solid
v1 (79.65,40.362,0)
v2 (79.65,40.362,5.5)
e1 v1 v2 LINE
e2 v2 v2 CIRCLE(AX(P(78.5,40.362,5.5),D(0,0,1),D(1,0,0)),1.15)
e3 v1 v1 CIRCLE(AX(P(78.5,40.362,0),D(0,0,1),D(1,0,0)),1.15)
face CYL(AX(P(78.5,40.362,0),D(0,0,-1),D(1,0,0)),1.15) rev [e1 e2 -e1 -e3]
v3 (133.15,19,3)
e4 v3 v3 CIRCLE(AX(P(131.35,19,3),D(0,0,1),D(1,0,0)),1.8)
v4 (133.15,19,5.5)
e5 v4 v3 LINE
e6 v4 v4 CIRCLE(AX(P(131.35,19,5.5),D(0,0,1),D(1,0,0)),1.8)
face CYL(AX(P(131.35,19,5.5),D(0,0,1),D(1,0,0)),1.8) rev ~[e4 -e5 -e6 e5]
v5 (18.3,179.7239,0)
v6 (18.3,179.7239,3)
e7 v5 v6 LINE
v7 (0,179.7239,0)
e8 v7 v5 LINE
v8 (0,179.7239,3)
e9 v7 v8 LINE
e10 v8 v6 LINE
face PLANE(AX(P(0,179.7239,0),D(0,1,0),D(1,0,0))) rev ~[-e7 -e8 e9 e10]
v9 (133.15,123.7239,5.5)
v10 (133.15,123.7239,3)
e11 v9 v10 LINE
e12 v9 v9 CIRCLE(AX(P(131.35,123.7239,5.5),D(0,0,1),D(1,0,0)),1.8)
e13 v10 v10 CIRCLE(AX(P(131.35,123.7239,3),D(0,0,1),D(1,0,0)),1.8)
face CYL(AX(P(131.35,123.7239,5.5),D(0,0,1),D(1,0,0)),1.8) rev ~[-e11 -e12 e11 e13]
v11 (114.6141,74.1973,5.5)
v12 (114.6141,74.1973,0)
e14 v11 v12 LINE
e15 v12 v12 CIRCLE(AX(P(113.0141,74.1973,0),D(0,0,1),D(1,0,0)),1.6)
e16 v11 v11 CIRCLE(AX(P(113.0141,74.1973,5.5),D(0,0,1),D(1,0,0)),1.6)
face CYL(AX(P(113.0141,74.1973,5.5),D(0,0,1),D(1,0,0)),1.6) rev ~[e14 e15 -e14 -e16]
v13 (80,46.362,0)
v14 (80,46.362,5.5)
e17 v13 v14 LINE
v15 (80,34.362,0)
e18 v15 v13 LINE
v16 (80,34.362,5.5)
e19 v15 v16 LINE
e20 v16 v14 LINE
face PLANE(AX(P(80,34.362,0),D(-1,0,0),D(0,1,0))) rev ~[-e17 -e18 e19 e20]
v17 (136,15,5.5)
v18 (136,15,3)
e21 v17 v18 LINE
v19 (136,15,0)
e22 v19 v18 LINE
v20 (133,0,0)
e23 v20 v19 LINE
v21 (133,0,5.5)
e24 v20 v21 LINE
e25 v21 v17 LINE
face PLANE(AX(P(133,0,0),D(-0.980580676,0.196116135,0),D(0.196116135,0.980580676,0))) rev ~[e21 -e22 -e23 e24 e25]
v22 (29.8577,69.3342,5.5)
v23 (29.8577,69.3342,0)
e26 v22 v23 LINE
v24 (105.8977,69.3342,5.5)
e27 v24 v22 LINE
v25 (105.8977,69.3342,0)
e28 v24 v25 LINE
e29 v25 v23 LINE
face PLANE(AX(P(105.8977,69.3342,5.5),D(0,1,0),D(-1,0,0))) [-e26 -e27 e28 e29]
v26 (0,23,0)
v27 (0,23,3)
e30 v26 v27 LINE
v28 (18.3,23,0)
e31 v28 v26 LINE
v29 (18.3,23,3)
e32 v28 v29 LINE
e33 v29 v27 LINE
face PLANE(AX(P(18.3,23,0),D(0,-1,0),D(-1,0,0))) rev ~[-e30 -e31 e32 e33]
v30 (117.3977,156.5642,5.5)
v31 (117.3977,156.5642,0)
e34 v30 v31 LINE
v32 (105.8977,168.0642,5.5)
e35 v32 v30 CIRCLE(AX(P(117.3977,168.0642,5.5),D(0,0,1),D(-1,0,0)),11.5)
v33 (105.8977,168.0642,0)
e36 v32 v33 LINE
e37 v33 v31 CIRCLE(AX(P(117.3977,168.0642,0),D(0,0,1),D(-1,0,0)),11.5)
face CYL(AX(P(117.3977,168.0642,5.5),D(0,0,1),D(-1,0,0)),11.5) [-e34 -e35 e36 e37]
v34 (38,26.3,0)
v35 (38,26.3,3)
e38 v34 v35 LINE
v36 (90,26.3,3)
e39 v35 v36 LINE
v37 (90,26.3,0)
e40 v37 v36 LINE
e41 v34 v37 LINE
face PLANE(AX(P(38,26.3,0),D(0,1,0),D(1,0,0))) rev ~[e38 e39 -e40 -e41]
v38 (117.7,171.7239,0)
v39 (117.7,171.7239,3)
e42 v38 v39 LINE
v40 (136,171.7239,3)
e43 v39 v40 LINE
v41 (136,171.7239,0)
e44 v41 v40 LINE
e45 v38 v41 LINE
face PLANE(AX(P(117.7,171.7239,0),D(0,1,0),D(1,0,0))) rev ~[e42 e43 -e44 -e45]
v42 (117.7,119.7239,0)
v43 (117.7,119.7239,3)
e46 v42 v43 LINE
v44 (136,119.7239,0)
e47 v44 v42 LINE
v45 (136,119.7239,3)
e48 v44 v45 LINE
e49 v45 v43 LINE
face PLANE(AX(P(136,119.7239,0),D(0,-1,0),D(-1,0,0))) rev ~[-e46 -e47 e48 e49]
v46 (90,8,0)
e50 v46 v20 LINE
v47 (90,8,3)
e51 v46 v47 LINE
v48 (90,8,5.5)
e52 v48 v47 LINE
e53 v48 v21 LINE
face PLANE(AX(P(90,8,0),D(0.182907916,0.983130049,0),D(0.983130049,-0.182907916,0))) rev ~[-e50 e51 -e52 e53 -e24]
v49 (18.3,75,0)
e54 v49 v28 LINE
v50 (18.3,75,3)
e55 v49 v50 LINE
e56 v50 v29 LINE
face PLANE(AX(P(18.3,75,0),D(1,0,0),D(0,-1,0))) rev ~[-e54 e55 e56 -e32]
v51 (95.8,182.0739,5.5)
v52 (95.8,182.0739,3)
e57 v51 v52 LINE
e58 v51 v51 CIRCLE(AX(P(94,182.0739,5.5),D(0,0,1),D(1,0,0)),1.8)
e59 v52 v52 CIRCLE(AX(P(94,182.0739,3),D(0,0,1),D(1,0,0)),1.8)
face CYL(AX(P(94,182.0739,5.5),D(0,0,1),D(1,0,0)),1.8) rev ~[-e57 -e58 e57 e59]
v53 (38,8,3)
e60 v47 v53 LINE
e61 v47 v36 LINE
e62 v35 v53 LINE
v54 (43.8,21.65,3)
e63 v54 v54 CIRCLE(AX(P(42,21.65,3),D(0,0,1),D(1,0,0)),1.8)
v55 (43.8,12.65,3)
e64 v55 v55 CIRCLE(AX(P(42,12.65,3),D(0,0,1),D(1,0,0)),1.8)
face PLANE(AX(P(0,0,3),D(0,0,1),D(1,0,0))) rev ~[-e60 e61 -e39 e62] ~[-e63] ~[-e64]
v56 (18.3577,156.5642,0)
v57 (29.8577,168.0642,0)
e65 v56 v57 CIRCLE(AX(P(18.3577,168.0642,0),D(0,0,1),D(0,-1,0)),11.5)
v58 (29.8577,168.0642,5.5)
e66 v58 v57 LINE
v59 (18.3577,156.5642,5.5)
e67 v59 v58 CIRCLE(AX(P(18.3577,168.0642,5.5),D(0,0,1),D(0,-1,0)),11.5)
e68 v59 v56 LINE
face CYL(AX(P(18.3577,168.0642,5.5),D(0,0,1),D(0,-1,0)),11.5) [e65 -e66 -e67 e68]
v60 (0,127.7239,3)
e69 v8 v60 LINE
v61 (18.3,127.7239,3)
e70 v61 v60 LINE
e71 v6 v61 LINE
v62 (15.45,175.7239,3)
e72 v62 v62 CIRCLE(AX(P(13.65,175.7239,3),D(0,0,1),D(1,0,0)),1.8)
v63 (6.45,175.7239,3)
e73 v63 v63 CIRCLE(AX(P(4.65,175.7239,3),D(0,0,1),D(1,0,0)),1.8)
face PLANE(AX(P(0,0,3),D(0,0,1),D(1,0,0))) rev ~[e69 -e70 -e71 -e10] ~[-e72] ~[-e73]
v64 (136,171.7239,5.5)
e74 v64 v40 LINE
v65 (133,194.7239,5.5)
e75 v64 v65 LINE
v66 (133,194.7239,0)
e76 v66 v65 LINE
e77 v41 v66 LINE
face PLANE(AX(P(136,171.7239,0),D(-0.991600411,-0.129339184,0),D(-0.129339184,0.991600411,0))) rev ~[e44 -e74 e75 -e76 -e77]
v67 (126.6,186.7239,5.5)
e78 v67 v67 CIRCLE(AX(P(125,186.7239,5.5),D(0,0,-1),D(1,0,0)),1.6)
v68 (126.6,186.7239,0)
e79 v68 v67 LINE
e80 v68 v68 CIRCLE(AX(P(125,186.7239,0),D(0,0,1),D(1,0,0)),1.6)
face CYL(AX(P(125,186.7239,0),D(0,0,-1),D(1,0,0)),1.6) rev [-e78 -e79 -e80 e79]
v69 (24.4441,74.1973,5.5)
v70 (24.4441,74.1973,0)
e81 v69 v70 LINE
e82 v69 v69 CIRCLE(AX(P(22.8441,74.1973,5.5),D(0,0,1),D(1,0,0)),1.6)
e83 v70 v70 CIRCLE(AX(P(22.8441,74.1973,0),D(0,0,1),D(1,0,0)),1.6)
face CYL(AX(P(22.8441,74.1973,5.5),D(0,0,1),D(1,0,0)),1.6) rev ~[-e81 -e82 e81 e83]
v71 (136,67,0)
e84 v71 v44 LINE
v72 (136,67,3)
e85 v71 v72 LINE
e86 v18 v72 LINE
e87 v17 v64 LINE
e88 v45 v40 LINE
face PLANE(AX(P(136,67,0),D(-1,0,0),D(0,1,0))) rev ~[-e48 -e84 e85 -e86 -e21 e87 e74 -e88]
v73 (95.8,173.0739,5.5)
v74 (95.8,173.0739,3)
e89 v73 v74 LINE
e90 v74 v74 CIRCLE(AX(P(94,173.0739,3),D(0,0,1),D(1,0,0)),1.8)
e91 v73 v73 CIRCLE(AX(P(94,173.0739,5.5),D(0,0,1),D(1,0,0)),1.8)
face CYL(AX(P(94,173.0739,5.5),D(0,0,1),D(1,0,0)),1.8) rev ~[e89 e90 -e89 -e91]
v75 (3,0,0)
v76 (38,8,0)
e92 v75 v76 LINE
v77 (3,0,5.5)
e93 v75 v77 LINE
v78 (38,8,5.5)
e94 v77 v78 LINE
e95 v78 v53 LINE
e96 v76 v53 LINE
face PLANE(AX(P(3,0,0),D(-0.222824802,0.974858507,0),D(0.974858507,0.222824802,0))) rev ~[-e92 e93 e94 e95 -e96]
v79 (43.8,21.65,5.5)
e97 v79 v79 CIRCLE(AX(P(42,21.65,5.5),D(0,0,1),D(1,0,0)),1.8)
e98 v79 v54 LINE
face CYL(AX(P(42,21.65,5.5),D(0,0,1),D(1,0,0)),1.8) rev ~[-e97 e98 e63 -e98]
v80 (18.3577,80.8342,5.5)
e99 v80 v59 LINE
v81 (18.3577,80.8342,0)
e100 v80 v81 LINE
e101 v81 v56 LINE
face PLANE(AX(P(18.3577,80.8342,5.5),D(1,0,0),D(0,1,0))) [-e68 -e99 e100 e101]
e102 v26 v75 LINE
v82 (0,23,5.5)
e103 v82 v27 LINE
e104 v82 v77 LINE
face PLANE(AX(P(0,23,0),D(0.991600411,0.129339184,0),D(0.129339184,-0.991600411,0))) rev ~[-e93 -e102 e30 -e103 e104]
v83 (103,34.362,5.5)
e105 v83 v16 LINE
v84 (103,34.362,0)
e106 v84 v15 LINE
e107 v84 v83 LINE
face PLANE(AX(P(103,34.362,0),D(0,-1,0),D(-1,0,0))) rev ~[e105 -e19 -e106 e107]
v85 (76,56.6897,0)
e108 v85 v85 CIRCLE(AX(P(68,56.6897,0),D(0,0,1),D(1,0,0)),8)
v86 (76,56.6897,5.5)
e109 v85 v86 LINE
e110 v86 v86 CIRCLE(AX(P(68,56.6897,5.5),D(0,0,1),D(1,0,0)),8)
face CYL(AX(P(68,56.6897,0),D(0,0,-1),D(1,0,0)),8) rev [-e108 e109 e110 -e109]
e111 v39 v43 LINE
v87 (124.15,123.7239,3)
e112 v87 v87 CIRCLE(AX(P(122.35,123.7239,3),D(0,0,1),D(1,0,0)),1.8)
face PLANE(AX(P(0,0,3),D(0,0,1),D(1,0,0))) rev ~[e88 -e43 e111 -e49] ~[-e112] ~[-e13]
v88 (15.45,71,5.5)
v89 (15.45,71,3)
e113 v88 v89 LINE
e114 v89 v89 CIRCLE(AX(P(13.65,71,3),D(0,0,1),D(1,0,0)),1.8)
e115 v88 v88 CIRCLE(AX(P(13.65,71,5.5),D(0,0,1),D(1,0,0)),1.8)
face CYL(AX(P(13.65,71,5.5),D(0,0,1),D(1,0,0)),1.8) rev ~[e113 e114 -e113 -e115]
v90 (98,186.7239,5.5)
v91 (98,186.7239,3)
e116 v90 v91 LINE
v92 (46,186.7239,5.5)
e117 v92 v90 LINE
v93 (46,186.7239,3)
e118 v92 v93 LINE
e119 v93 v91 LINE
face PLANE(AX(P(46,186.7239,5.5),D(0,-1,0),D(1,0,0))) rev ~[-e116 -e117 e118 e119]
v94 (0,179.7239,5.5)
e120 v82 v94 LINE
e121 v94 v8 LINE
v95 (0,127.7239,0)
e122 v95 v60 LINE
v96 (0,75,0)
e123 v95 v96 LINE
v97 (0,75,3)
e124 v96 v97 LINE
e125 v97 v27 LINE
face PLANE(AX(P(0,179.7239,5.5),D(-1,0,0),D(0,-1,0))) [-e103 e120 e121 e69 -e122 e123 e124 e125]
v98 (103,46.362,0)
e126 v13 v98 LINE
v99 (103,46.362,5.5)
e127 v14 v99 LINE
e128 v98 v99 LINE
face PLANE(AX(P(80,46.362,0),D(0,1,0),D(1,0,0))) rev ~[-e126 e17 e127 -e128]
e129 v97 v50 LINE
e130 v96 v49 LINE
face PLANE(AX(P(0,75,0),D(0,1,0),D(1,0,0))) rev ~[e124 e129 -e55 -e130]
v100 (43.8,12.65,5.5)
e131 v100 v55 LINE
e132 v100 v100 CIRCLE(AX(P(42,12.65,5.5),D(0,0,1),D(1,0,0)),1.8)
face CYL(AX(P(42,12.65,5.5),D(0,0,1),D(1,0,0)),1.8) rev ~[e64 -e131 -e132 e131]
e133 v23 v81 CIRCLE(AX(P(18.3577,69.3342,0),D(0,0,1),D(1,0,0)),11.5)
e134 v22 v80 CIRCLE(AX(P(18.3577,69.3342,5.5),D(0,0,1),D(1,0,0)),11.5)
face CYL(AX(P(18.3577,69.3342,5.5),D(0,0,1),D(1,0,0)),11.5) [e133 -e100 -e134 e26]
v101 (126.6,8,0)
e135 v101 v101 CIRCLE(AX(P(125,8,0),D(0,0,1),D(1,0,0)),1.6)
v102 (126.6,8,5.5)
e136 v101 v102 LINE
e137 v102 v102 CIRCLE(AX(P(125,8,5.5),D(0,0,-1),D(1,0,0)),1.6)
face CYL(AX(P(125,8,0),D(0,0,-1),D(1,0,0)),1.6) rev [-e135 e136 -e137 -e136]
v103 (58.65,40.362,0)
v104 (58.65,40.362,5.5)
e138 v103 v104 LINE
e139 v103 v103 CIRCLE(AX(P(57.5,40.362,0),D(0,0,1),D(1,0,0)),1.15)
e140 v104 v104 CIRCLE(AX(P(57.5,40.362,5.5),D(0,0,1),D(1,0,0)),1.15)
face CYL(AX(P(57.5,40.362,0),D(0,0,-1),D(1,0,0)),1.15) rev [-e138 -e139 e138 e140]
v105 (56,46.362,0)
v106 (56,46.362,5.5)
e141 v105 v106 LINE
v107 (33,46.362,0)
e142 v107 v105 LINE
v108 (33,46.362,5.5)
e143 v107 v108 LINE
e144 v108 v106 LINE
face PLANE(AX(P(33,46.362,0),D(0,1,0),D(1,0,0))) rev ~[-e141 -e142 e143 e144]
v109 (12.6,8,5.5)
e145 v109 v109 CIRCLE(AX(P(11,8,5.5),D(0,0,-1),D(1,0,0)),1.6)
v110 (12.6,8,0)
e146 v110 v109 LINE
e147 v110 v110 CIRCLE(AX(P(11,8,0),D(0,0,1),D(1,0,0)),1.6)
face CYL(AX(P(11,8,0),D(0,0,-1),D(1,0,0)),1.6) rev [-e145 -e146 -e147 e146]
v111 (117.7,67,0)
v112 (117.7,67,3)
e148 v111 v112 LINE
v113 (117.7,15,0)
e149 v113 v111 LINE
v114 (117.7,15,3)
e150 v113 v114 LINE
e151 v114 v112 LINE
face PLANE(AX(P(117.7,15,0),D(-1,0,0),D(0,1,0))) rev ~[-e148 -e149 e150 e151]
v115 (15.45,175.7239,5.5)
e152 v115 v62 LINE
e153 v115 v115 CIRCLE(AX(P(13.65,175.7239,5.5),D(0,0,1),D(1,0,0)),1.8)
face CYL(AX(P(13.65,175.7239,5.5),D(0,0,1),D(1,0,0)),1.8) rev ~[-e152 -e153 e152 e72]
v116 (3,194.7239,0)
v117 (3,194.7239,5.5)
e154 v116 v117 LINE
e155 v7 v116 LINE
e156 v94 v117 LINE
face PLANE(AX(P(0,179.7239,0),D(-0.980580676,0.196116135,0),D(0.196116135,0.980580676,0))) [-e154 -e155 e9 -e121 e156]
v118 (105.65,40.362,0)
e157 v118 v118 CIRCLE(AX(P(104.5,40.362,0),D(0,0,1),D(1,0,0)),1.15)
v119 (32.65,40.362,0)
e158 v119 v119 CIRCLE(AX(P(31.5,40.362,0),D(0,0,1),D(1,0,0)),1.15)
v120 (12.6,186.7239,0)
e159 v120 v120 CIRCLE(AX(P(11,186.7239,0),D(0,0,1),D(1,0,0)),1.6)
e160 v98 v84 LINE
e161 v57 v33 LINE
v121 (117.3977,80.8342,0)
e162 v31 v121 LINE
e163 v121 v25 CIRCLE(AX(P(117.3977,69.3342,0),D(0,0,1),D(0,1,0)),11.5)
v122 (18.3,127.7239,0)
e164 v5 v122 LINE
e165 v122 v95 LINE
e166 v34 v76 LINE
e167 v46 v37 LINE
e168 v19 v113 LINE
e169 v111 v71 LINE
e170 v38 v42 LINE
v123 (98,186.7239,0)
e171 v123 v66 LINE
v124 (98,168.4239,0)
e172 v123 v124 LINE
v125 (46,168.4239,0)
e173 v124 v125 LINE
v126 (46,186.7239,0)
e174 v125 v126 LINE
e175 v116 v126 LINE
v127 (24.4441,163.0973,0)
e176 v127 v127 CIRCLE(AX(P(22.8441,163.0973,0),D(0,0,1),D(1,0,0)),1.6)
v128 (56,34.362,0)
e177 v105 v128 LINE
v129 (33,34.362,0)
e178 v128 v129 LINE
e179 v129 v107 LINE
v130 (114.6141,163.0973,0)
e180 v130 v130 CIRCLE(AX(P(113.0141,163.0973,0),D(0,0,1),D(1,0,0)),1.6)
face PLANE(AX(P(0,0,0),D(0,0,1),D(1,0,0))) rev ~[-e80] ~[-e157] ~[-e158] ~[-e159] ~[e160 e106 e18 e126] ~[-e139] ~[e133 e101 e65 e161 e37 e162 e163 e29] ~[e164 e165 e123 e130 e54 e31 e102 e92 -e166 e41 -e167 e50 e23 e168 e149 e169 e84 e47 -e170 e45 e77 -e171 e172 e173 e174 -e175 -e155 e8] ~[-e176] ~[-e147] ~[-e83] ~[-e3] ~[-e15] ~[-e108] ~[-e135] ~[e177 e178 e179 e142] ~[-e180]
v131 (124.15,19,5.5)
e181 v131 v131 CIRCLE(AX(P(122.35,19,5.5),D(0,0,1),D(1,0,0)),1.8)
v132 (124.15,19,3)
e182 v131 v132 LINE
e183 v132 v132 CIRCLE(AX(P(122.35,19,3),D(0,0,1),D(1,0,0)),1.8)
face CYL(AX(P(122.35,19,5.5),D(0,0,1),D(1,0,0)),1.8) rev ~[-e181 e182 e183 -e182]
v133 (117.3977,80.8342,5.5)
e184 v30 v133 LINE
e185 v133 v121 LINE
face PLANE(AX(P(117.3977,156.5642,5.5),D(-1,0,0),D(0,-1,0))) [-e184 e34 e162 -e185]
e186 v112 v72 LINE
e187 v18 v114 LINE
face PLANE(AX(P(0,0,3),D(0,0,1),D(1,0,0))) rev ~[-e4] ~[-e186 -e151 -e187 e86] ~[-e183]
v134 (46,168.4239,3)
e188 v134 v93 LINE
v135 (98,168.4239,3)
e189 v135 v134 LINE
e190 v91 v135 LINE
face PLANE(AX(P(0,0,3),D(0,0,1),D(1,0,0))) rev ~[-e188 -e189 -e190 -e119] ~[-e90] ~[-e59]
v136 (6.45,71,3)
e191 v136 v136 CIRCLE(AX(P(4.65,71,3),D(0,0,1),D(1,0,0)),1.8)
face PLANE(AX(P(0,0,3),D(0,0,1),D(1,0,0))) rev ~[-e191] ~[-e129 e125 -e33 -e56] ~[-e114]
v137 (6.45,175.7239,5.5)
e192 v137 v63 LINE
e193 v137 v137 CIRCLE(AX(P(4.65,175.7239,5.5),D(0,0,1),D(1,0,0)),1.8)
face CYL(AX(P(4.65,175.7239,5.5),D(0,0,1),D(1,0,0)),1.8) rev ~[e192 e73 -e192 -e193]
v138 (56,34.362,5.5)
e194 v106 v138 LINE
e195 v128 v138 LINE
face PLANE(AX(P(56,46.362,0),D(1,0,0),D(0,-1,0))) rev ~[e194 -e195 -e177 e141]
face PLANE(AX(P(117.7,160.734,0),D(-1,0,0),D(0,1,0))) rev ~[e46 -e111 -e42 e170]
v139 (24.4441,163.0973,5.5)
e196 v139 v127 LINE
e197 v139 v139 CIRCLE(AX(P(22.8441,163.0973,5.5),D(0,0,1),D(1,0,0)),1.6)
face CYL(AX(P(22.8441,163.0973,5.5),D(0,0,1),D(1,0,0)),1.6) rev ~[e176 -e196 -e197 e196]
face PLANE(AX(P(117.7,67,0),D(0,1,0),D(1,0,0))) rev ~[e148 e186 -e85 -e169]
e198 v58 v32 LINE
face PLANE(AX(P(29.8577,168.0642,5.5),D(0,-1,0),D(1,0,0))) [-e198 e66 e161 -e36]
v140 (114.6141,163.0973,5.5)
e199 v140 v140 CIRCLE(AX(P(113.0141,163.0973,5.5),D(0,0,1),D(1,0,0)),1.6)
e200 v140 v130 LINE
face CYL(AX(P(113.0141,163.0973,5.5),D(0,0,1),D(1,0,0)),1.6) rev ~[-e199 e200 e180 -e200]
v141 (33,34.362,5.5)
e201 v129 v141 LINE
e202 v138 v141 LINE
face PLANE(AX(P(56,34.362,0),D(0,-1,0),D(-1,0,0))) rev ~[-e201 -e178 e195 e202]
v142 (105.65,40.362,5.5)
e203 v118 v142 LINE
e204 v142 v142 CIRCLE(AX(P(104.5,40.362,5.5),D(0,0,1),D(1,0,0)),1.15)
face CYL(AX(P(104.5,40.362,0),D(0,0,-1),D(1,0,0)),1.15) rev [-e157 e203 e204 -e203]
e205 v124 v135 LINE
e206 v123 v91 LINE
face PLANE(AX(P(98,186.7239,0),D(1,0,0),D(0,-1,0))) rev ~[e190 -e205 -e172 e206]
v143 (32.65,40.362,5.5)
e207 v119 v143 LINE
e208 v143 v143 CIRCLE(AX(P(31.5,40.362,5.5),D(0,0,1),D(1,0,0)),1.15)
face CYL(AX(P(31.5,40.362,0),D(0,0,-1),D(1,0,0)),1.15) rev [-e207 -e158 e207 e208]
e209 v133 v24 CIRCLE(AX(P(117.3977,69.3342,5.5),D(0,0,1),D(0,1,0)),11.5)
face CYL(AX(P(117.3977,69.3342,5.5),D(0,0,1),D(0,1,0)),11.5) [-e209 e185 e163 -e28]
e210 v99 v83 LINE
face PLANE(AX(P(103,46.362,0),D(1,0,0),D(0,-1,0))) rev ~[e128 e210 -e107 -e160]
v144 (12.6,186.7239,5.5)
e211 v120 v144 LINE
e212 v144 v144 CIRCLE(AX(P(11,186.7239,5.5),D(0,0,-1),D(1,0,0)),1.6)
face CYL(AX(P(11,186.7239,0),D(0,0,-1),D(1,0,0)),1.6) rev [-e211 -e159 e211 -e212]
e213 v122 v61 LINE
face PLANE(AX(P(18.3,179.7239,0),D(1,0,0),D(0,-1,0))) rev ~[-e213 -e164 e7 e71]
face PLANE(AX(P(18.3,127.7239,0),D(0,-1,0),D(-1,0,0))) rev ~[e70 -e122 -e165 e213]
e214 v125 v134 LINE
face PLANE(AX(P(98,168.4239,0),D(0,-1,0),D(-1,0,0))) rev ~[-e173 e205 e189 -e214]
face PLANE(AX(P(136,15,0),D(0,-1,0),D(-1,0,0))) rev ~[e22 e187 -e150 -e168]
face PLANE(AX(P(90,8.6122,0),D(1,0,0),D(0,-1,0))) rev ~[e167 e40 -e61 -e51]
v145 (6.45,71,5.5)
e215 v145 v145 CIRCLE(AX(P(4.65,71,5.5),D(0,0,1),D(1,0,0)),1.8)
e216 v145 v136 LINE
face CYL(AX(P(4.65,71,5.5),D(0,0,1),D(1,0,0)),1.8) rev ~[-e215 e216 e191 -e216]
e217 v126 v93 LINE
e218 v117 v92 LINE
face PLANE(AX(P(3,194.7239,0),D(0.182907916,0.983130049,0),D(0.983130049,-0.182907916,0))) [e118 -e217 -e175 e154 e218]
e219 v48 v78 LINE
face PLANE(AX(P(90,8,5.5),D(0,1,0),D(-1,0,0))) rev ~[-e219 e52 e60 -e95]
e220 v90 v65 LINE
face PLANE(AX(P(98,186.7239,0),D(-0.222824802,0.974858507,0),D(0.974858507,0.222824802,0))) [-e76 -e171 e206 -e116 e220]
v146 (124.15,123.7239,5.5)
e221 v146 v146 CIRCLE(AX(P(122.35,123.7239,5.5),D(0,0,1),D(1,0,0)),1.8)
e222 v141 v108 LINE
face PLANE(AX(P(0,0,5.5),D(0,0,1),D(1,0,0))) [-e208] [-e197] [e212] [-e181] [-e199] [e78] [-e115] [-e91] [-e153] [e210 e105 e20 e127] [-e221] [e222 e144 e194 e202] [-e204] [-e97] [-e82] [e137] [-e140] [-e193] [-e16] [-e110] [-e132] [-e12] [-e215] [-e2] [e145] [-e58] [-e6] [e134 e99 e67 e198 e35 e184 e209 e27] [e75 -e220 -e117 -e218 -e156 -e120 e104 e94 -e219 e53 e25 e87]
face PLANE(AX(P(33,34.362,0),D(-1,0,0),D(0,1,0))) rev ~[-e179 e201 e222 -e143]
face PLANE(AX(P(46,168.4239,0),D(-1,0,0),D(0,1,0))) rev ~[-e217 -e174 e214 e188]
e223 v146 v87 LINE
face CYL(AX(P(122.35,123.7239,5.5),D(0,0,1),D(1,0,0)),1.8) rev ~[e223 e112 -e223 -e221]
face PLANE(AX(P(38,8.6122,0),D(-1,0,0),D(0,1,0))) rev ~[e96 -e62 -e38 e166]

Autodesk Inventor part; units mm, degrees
ref_plane "YZ Plane" through (0, 0, 0) normal (1, 0, 0) x (0, 1, 0)
ref_plane "XZ Plane" through (0, 0, 0) normal (0, 1, 0) x (-1, 0, 0)
ref_plane "XY Plane" through (0, 0, 0) normal (0, 0, 1) x (1, 0, 0)
sketch "スケッチ1" plane through (0, 0, 0) normal (0, 0, 1) x (1, 0, 0)
  circle A0 centre (131.35, 19) radius 1.8
  circle A1 centre (122.35, 19) radius 1.8
  circle A2 centre (4.65, 71) radius 1.8
  circle A3 centre (13.65, 71) radius 1.8
  circle A4 centre (4.65, 175.7239) radius 1.8
  circle A5 centre (13.65, 175.7239) radius 1.8
  circle A6 centre (131.35, 123.7239) radius 1.8
  circle A7 centre (122.35, 123.7239) radius 1.8
  line L0 (0, 179.7239) -> (0, 23)
  line L1 (0, 23) -> (3, 0)
  line L2 (133, 0) -> (136, 15)
  line L3 (136, 15) -> (136, 171.7239)
  line L4 (136, 171.7239) -> (133, 194.7239)
  line L5 (0, 75) -> (18.3, 75)
  line L6 (18.3, 75) -> (18.3, 23)
  line L7 (18.3, 23) -> (0, 23)
  line L8 (0, 23) -> (0, 75)
  line L9 (0, 179.7239) -> (18.3, 179.7239)
  line L10 (18.3, 179.7239) -> (18.3, 127.7239)
  line L11 (18.3, 127.7239) -> (0, 127.7239)
  line L12 (0, 127.7239) -> (0, 179.7239)
  line L13 (46, 186.7239) -> (98, 186.7239)
  line L14 (98, 186.7239) -> (98, 168.4239)
  line L15 (98, 168.4239) -> (46, 168.4239)
  line L16 (46, 168.4239) -> (46, 186.7239)
  line L17 (117.7, 171.7239) -> (136, 171.7239)
  line L18 (136, 171.7239) -> (136, 119.7239)
  line L19 (136, 119.7239) -> (117.7, 119.7239)
  line L20 (117.7, 119.7239) -> (117.7, 171.7239)
  line L21 (117.7, 67) -> (136, 67)
  line L22 (136, 67) -> (136, 15)
  line L23 (136, 15) -> (117.7, 15)
  line L24 (117.7, 15) -> (117.7, 67)
  line L25 (38, 26.3) -> (90, 26.3)
  line L26 (90, 26.3) -> (90, 8)
  line L27 (90, 8.6122) -> (38, 8.6122)
  line L28 (38, 8) -> (38, 26.3)
  circle A8 centre (42, 12.65) radius 1.8
  circle A9 centre (42, 21.65) radius 1.8
  circle A10 centre (94, 182.0739) radius 1.8
  circle A11 centre (94, 173.0739) radius 1.8
  line L29 (3, 194.7239) -> (46, 186.7239)
  line L30 (98, 186.7239) -> (133, 194.7239)
  line L31 (3, 0) -> (38, 8)
  line L32 (38, 8) -> (90, 8)
  line L33 (90, 8) -> (133, 0)
  line L34 (46, 186.7239) -> (98, 186.7239)
  arc A12 (117.7, 160.734) -> (117.655, 160.7883) centre (112.29, 156.292) ccw
  arc A13 (117.655, 151.7957) -> (117.7, 151.8499) centre (112.29, 156.292) ccw
  line L35 (0, 179.7239) -> (3, 194.7239)
  circle A14 centre (11, 186.7239) radius 1.6
  circle A15 centre (125, 186.7239) radius 1.6
  circle A16 centre (11, 8) radius 1.6
  circle A17 centre (125, 8) radius 1.6
  line L36 (-39.2506, 184.5362) -> (-16.0026, 184.5362)
  line L37 (-16.0026, 184.5362) -> (-13.5186, 184.5362)
  line L38 (-13.5186, 184.5362) -> (-3.2973, 180.8977)
  line L39 (-3.1017, 181.4472) -> (-3.4929, 180.3481)
  line L40 (-3.4929, 180.3481) -> (0, 179.7239)
  line L41 (0, 179.7239) -> (-3.1017, 181.4472)
  line L42 (6.4, 186.7239) -> (15.6, 186.7239)
  line L43 (11, 182.1239) -> (11, 191.3239)
  line L44 (120.4, 186.7239) -> (129.6, 186.7239)
  line L45 (125, 182.1239) -> (125, 191.3239)
  line L46 (6.4, 8) -> (15.6, 8)
  line L47 (11, 3.4) -> (11, 12.6)
  line L48 (120.4, 8) -> (129.6, 8)
  line L49 (125, 3.4) -> (125, 12.6)
  line L50 (3, 194.7239) -> (0, 179.7239)
  line L51 (0, 23) -> (0, 179.7239)
  line L52 (3, 194.7239) -> (46, 186.7239)
  line L53 (46, 186.7239) -> (46, 168.4239)
  line L54 (46, 168.4239) -> (98, 168.4239)
  line L55 (98, 168.4239) -> (98, 186.7239)
  line L56 (133, 194.7239) -> (98, 186.7239)
  line L57 (133, 194.7239) -> (136, 171.7239)
  line L58 (136, 171.7239) -> (136, 15)
  line L59 (136, 15) -> (117.7, 15)
  line L60 (117.7, 15) -> (117.7, 67)
  line L61 (136, 67) -> (117.7, 67)
  line L62 (117.7, 119.7239) -> (136, 119.7239)
  line L63 (117.7, 119.7239) -> (117.7, 171.7239)
  line L64 (117.7, 171.7239) -> (136, 171.7239)
  line L65 (133, 0) -> (136, 15)
  line L66 (90, 8) -> (133, 0)
  line L67 (3, 0) -> (38, 8)
  line L68 (38, 26.3) -> (90, 26.3)
  line L69 (90, 26.3) -> (90, 8)
  line L70 (38, 8) -> (90, 8)
  line L71 (38, 26.3) -> (38, 8)
  line L72 (0, 23) -> (3, 0)
  line L73 (0, 179.7239) -> (18.3, 179.7239)
  line L74 (18.3, 179.7239) -> (18.3, 127.7239)
  line L75 (18.3, 127.7239) -> (0, 127.7239)
  line L76 (0, 127.7239) -> (0, 179.7239)
  line L77 (0, 75) -> (18.3, 75)
  line L78 (18.3, 75) -> (18.3, 23)
  line L79 (18.3, 23) -> (0, 23)
  line L80 (0, 23) -> (0, 75)
  line L81 (0, 127.7239) -> (0, 75)
  circle A18 centre (125, 186.7239) radius 1.6
  circle A19 centre (11, 186.7239) radius 1.6
  circle A20 centre (94, 182.0739) radius 1.8
  circle A21 centre (94, 182.0739) radius 1.8
  circle A22 centre (94, 173.0739) radius 1.8
  circle A23 centre (125, 186.7239) radius 1.6
  circle A24 centre (11, 186.7239) radius 1.6
  circle A25 centre (13.65, 175.7239) radius 1.8
  circle A26 centre (4.65, 175.7239) radius 1.8
  circle A27 centre (122.35, 123.7239) radius 1.8
  circle A28 centre (131.35, 123.7239) radius 1.8
  circle A29 centre (122.35, 19) radius 1.8
  circle A30 centre (131.35, 19) radius 1.8
  circle A31 centre (125, 8) radius 1.6
  circle A32 centre (42, 21.65) radius 1.8
  circle A33 centre (42, 12.65) radius 1.8
  circle A34 centre (4.65, 71) radius 1.8
  circle A35 centre (13.65, 71) radius 1.8
  circle A36 centre (11, 8) radius 1.6
  line L82 (117.7, 171.7239) -> (136, 171.7239)
  line L83 (136, 171.7239) -> (136, 119.7239)
  line L84 (136, 119.7239) -> (117.7, 119.7239)
  line L85 (117.7, 119.7239) -> (117.7, 171.7239)
  line L86 (117.7, 67) -> (136, 67)
  line L87 (136, 67) -> (136, 15)
  line L88 (136, 15) -> (117.7, 15)
  line L89 (117.7, 15) -> (117.7, 67)
  line L90 (33, 46.362) -> (56, 46.362)
  line L91 (56, 46.362) -> (56, 34.362)
  line L92 (56, 34.362) -> (33, 34.362)
  line L93 (33, 34.362) -> (33, 46.362)
  circle A37 centre (31.5, 40.362) radius 1.15
  circle A38 centre (57.5, 40.362) radius 1.15
  line L94 (80, 46.362) -> (103, 46.362)
  line L95 (103, 46.362) -> (103, 34.362)
  line L96 (103, 34.362) -> (80, 34.362)
  line L97 (80, 34.362) -> (80, 46.362)
  circle A39 centre (78.5, 40.362) radius 1.15
  circle A40 centre (104.5, 40.362) radius 1.15
  circle A41 centre (68, 56.6897) radius 8
  point P0 (0, 0)
  point P1 (-39.2506, 190.238)
  point P2 (-28.3321, 190.8402)
  dimension "d22" = 23
  dimension "d23" = 12
  dimension "d24" = 2.3
  dimension "d25" = 2.3
  dimension "d26" = 1.5
  dimension "d27" = 1.5
  dimension "d29" = 12
  dimension "d30" = 2.3
  dimension "d31" = 2.3
  dimension "d32" = 1.5
  dimension "d33" = 1.5
  dimension "d34" = 23
  dimension "d35" = 6
  dimension "d36" = 6
  dimension "d37" = 6
  dimension "d38" = 6
  dimension "d43" = 16
  dimension "d56" = 25.7498
ref_plane "作業平面1" through (0, 0, 5.5) normal (0, 0, 1) x (1, 0, 0)
sketch "スケッチ3" plane through (0, 0, 5.5) normal (0, 0, 1) x (1, 0, 0)
  circle A0 centre (131.35, 19) radius 1.8
  circle A1 centre (122.35, 19) radius 1.8
  circle A2 centre (4.65, 71) radius 1.8
  circle A3 centre (13.65, 71) radius 1.8
  circle A4 centre (4.65, 175.7239) radius 1.8
  circle A5 centre (13.65, 175.7239) radius 1.8
  circle A6 centre (131.35, 123.7239) radius 1.8
  circle A7 centre (122.35, 123.7239) radius 1.8
  line L0 (0, 179.7239) -> (0, 23)
  line L1 (0, 23) -> (3, 0)
  line L2 (133, 0) -> (136, 15)
  line L3 (136, 15) -> (136, 171.7239)
  line L4 (136, 171.7239) -> (133, 194.7239)
  line L5 (0, 75) -> (18.3, 75)
  line L6 (18.3, 75) -> (18.3, 23)
  line L7 (18.3, 23) -> (0, 23)
  line L8 (0, 23) -> (0, 75)
  line L9 (0, 179.7239) -> (18.3, 179.7239)
  line L10 (18.3, 179.7239) -> (18.3, 127.7239)
  line L11 (18.3, 127.7239) -> (0, 127.7239)
  line L12 (0, 127.7239) -> (0, 179.7239)
  line L13 (46, 186.7239) -> (98, 186.7239)
  line L14 (98, 186.7239) -> (98, 168.4239)
  line L15 (98, 168.4239) -> (46, 168.4239)
  line L16 (46, 168.4239) -> (46, 186.7239)
  line L17 (117.7, 171.7239) -> (136, 171.7239)
  line L18 (136, 171.7239) -> (136, 119.7239)
  line L19 (136, 119.7239) -> (117.7, 119.7239)
  line L20 (117.7, 119.7239) -> (117.7, 171.7239)
  line L21 (117.7, 67) -> (136, 67)
  line L22 (136, 67) -> (136, 15)
  line L23 (136, 15) -> (117.7, 15)
  line L24 (117.7, 15) -> (117.7, 67)
  line L25 (38, 26.3) -> (90, 26.3)
  line L26 (90, 26.3) -> (90, 8)
  line L27 (90, 8) -> (38, 8)
  line L28 (38, 8) -> (38, 26.3)
  circle A8 centre (42, 12.65) radius 1.8
  circle A9 centre (42, 21.65) radius 1.8
  circle A10 centre (94, 182.0739) radius 1.8
  circle A11 centre (94, 173.0739) radius 1.8
  line L29 (3, 194.7239) -> (46, 186.7239)
  line L30 (98, 186.7239) -> (133, 194.7239)
  line L31 (3, 0) -> (38, 8)
  line L32 (38, 8) -> (90, 8)
  line L33 (90, 8) -> (133, 0)
  line L34 (46, 186.7239) -> (98, 186.7239)
  circle A12 centre (23.71, 156.292) radius 1.59
  circle A13 centre (112.29, 156.292) radius 1.59
  circle A14 centre (112.29, 38.432) radius 1.59
  circle A15 centre (23.71, 38.432) radius 1.59
  arc A16 (105.29, 161.292) -> (112.29, 149.292) centre (112.8589, 157.6655) ccw
  arc A17 (23.71, 149.292) -> (30.71, 161.292) centre (23.1411, 157.6655) ccw
  arc A18 (117.7, 160.734) -> (117.655, 160.7883) centre (112.29, 156.292) ccw
  arc A19 (117.655, 151.7957) -> (117.7, 151.8499) centre (112.29, 156.292) ccw
  line L35 (30.71, 161.292) -> (105.29, 161.292)
  arc A20 (30.71, 33.432) -> (23.71, 45.432) centre (23.1411, 37.0584) ccw
  arc A21 (112.29, 45.432) -> (105.29, 33.432) centre (112.8589, 37.0584) ccw
  line L36 (23.71, 45.432) -> (23.71, 149.292)
  line L37 (112.29, 149.292) -> (112.29, 45.432)
  line L38 (16.4068, 85.862) -> (16.4068, 108.862)
  line L39 (16.4068, 108.862) -> (4.4068, 108.862)
  line L40 (4.4068, 108.862) -> (4.4068, 85.862)
  line L41 (4.4068, 85.862) -> (16.4068, 85.862)
  circle A22 centre (10.4068, 110.362) radius 1.15
  circle A23 centre (10.4068, 84.362) radius 1.15
  line L42 (0, 179.7239) -> (3, 194.7239)
  line L43 (30.71, 33.432) -> (105.29, 33.432)
  circle A24 centre (11, 186.7239) radius 1.6
  circle A25 centre (125, 186.7239) radius 1.6
  circle A26 centre (11, 8) radius 1.6
  circle A27 centre (125, 8) radius 1.6
  line L44 (-39.2506, 184.5362) -> (-16.0026, 184.5362)
  line L45 (-16.0026, 184.5362) -> (-13.5186, 184.5362)
  line L46 (-13.5186, 184.5362) -> (-3.2973, 180.8977)
  line L47 (-3.1017, 181.4472) -> (-3.4929, 180.3481)
  line L48 (-3.4929, 180.3481) -> (0, 179.7239)
  line L49 (0, 179.7239) -> (-3.1017, 181.4472)
  line L50 (6.4, 186.7239) -> (15.6, 186.7239)
  line L51 (11, 182.1239) -> (11, 191.3239)
  line L52 (120.4, 186.7239) -> (129.6, 186.7239)
  line L53 (125, 182.1239) -> (125, 191.3239)
  line L54 (6.4, 8) -> (15.6, 8)
  line L55 (11, 3.4) -> (11, 12.6)
  line L56 (120.4, 8) -> (129.6, 8)
  line L57 (125, 3.4) -> (125, 12.6)
  line L58 (0, 179.7239) -> (18.3, 179.7239) projected
  line L59 (18.3, 179.7239) -> (18.3, 127.7239) projected
  line L60 (0, 179.7239) -> (18.3, 179.7239)
  line L61 (18.3, 179.7239) -> (18.3, 127.7239)
  line L62 (18.3, 127.7239) -> (0, 127.7239)
  line L63 (0, 127.7239) -> (0, 179.7239)
  line L64 (46, 168.4239) -> (46, 186.7239) projected
  line L65 (98, 168.4239) -> (46, 168.4239) projected
  line L66 (46, 186.7239) -> (98, 186.7239)
  line L67 (98, 186.7239) -> (98, 168.4239)
  line L68 (98, 168.4239) -> (46, 168.4239)
  line L69 (46, 168.4239) -> (46, 186.7239)
  line L70 (136, 119.7239) -> (117.7, 119.7239)
  line L71 (117.7, 119.7239) -> (117.7, 171.7239)
  line L72 (117.7, 171.7239) -> (136, 171.7239)
  line L73 (136, 171.7239) -> (136, 119.7239)
  line L74 (117.7, 67) -> (136, 67)
  line L75 (136, 67) -> (136, 15)
  line L76 (136, 15) -> (117.7, 15)
  line L77 (117.7, 15) -> (117.7, 67)
  line L78 (38, 26.3) -> (90, 26.3) projected
  line L79 (90, 8) -> (38, 8)
  line L80 (38, 8) -> (38, 26.3)
  line L81 (38, 26.3) -> (90, 26.3)
  line L82 (90, 26.3) -> (90, 8)
  line L83 (18.3, 23) -> (0, 23)
  line L84 (0, 23) -> (0, 75)
  line L85 (0, 75) -> (18.3, 75)
  line L86 (18.3, 75) -> (18.3, 23)
  circle A28 centre (4.65, 175.7239) radius 1.8
  circle A29 centre (13.65, 175.7239) radius 1.8
  circle A30 centre (94, 182.0739) radius 1.8
  circle A31 centre (94, 173.0739) radius 1.8
  circle A32 centre (122.35, 123.7239) radius 1.8
  circle A33 centre (131.35, 123.7239) radius 1.8
  circle A34 centre (122.35, 19) radius 1.8
  circle A35 centre (131.35, 19) radius 1.8
  circle A36 centre (42, 21.65) radius 1.8
  circle A37 centre (42, 12.65) radius 1.8
  circle A38 centre (4.65, 71) radius 1.8
  circle A39 centre (13.65, 71) radius 1.8
  point P0 (0, 0)
  point P1 (-39.2506, 190.238)
  point P2 (-28.3321, 190.8402)
  dimension "d63" = 18.3
  dimension "d64" = 4
  dimension "d65" = 4.65
  dimension "d66" = 4.65
extrude "押し出し2" add sketch "スケッチ3" against normal blind 2.5 contours L9 L10 L11 L0 | L5 L6 L7 L0 | L13 L14 L15 L16 | L28 L25 L26 L27 | L3 L19 L20 L17 | L3 L23 L24 L21
ref_plane "作業平面2" through (0, 0, 5.5) normal (0, 0, 1) x (1, 0, 0)
sketch "スケッチ4" plane through (0, 0, 5.5) normal (0, 0, 1) x (1, 0, 0)
  line L0 (0, 179.7239) -> (0, 23) projected
  line L1 (0, 23) -> (18.3, 23) projected
  line L2 (136, 171.7239) -> (117.7, 171.7239) projected
  line L3 (29.8577, 168.0642) -> (105.8977, 168.0642)
  line L4 (117.3977, 156.5642) -> (117.3977, 80.8342)
  line L5 (105.8977, 69.3342) -> (29.8577, 69.3342)
  line L6 (18.3577, 80.8342) -> (18.3577, 156.5642)
  circle A0 centre (113.0141, 163.0973) radius 1.6
  circle A1 centre (113.0141, 74.1973) radius 1.6
  circle A2 centre (22.8441, 74.1973) radius 1.6
  circle A3 centre (22.8441, 163.0973) radius 1.6
  arc A4 (18.3577, 156.5642) -> (29.8577, 168.0642) centre (18.3577, 168.0642) ccw
  arc A5 (105.8977, 168.0642) -> (117.3977, 156.5642) centre (117.3977, 168.0642) ccw
  arc A6 (117.3977, 80.8342) -> (105.8977, 69.3342) centre (117.3977, 69.3342) ccw
  arc A7 (29.8577, 69.3342) -> (18.3577, 80.8342) centre (18.3577, 69.3342) ccw
  point P0 (0, 0)
  point P1 (18.0035, 68.7726)
  point P2 (67.8777, 118.6992)
  point P3 (68, 97.362)
  dimension "d14" = 3.2
  dimension "d15" = 3.2
  dimension "d16" = 3.2
  dimension "d17" = 3.2
  dimension "d44" = 23
  dimension "d45" = 23
  dimension "d46" = 23
  dimension "d47" = 23
extrude "押し出し3" add sketch "スケッチ1" along normal blind 5.5 contours L35 L29 L16 L15 L14 L30 L4 L17 L20 L19 L3 L21 L24 L23 L2 L33 L26 L25 L28 L31 L1 L7 L6 L5 L0 L11 L10 L9
extrude "押し出し4" cut sketch "スケッチ4" against normal blind 5.5
properties part number "3枚目"
